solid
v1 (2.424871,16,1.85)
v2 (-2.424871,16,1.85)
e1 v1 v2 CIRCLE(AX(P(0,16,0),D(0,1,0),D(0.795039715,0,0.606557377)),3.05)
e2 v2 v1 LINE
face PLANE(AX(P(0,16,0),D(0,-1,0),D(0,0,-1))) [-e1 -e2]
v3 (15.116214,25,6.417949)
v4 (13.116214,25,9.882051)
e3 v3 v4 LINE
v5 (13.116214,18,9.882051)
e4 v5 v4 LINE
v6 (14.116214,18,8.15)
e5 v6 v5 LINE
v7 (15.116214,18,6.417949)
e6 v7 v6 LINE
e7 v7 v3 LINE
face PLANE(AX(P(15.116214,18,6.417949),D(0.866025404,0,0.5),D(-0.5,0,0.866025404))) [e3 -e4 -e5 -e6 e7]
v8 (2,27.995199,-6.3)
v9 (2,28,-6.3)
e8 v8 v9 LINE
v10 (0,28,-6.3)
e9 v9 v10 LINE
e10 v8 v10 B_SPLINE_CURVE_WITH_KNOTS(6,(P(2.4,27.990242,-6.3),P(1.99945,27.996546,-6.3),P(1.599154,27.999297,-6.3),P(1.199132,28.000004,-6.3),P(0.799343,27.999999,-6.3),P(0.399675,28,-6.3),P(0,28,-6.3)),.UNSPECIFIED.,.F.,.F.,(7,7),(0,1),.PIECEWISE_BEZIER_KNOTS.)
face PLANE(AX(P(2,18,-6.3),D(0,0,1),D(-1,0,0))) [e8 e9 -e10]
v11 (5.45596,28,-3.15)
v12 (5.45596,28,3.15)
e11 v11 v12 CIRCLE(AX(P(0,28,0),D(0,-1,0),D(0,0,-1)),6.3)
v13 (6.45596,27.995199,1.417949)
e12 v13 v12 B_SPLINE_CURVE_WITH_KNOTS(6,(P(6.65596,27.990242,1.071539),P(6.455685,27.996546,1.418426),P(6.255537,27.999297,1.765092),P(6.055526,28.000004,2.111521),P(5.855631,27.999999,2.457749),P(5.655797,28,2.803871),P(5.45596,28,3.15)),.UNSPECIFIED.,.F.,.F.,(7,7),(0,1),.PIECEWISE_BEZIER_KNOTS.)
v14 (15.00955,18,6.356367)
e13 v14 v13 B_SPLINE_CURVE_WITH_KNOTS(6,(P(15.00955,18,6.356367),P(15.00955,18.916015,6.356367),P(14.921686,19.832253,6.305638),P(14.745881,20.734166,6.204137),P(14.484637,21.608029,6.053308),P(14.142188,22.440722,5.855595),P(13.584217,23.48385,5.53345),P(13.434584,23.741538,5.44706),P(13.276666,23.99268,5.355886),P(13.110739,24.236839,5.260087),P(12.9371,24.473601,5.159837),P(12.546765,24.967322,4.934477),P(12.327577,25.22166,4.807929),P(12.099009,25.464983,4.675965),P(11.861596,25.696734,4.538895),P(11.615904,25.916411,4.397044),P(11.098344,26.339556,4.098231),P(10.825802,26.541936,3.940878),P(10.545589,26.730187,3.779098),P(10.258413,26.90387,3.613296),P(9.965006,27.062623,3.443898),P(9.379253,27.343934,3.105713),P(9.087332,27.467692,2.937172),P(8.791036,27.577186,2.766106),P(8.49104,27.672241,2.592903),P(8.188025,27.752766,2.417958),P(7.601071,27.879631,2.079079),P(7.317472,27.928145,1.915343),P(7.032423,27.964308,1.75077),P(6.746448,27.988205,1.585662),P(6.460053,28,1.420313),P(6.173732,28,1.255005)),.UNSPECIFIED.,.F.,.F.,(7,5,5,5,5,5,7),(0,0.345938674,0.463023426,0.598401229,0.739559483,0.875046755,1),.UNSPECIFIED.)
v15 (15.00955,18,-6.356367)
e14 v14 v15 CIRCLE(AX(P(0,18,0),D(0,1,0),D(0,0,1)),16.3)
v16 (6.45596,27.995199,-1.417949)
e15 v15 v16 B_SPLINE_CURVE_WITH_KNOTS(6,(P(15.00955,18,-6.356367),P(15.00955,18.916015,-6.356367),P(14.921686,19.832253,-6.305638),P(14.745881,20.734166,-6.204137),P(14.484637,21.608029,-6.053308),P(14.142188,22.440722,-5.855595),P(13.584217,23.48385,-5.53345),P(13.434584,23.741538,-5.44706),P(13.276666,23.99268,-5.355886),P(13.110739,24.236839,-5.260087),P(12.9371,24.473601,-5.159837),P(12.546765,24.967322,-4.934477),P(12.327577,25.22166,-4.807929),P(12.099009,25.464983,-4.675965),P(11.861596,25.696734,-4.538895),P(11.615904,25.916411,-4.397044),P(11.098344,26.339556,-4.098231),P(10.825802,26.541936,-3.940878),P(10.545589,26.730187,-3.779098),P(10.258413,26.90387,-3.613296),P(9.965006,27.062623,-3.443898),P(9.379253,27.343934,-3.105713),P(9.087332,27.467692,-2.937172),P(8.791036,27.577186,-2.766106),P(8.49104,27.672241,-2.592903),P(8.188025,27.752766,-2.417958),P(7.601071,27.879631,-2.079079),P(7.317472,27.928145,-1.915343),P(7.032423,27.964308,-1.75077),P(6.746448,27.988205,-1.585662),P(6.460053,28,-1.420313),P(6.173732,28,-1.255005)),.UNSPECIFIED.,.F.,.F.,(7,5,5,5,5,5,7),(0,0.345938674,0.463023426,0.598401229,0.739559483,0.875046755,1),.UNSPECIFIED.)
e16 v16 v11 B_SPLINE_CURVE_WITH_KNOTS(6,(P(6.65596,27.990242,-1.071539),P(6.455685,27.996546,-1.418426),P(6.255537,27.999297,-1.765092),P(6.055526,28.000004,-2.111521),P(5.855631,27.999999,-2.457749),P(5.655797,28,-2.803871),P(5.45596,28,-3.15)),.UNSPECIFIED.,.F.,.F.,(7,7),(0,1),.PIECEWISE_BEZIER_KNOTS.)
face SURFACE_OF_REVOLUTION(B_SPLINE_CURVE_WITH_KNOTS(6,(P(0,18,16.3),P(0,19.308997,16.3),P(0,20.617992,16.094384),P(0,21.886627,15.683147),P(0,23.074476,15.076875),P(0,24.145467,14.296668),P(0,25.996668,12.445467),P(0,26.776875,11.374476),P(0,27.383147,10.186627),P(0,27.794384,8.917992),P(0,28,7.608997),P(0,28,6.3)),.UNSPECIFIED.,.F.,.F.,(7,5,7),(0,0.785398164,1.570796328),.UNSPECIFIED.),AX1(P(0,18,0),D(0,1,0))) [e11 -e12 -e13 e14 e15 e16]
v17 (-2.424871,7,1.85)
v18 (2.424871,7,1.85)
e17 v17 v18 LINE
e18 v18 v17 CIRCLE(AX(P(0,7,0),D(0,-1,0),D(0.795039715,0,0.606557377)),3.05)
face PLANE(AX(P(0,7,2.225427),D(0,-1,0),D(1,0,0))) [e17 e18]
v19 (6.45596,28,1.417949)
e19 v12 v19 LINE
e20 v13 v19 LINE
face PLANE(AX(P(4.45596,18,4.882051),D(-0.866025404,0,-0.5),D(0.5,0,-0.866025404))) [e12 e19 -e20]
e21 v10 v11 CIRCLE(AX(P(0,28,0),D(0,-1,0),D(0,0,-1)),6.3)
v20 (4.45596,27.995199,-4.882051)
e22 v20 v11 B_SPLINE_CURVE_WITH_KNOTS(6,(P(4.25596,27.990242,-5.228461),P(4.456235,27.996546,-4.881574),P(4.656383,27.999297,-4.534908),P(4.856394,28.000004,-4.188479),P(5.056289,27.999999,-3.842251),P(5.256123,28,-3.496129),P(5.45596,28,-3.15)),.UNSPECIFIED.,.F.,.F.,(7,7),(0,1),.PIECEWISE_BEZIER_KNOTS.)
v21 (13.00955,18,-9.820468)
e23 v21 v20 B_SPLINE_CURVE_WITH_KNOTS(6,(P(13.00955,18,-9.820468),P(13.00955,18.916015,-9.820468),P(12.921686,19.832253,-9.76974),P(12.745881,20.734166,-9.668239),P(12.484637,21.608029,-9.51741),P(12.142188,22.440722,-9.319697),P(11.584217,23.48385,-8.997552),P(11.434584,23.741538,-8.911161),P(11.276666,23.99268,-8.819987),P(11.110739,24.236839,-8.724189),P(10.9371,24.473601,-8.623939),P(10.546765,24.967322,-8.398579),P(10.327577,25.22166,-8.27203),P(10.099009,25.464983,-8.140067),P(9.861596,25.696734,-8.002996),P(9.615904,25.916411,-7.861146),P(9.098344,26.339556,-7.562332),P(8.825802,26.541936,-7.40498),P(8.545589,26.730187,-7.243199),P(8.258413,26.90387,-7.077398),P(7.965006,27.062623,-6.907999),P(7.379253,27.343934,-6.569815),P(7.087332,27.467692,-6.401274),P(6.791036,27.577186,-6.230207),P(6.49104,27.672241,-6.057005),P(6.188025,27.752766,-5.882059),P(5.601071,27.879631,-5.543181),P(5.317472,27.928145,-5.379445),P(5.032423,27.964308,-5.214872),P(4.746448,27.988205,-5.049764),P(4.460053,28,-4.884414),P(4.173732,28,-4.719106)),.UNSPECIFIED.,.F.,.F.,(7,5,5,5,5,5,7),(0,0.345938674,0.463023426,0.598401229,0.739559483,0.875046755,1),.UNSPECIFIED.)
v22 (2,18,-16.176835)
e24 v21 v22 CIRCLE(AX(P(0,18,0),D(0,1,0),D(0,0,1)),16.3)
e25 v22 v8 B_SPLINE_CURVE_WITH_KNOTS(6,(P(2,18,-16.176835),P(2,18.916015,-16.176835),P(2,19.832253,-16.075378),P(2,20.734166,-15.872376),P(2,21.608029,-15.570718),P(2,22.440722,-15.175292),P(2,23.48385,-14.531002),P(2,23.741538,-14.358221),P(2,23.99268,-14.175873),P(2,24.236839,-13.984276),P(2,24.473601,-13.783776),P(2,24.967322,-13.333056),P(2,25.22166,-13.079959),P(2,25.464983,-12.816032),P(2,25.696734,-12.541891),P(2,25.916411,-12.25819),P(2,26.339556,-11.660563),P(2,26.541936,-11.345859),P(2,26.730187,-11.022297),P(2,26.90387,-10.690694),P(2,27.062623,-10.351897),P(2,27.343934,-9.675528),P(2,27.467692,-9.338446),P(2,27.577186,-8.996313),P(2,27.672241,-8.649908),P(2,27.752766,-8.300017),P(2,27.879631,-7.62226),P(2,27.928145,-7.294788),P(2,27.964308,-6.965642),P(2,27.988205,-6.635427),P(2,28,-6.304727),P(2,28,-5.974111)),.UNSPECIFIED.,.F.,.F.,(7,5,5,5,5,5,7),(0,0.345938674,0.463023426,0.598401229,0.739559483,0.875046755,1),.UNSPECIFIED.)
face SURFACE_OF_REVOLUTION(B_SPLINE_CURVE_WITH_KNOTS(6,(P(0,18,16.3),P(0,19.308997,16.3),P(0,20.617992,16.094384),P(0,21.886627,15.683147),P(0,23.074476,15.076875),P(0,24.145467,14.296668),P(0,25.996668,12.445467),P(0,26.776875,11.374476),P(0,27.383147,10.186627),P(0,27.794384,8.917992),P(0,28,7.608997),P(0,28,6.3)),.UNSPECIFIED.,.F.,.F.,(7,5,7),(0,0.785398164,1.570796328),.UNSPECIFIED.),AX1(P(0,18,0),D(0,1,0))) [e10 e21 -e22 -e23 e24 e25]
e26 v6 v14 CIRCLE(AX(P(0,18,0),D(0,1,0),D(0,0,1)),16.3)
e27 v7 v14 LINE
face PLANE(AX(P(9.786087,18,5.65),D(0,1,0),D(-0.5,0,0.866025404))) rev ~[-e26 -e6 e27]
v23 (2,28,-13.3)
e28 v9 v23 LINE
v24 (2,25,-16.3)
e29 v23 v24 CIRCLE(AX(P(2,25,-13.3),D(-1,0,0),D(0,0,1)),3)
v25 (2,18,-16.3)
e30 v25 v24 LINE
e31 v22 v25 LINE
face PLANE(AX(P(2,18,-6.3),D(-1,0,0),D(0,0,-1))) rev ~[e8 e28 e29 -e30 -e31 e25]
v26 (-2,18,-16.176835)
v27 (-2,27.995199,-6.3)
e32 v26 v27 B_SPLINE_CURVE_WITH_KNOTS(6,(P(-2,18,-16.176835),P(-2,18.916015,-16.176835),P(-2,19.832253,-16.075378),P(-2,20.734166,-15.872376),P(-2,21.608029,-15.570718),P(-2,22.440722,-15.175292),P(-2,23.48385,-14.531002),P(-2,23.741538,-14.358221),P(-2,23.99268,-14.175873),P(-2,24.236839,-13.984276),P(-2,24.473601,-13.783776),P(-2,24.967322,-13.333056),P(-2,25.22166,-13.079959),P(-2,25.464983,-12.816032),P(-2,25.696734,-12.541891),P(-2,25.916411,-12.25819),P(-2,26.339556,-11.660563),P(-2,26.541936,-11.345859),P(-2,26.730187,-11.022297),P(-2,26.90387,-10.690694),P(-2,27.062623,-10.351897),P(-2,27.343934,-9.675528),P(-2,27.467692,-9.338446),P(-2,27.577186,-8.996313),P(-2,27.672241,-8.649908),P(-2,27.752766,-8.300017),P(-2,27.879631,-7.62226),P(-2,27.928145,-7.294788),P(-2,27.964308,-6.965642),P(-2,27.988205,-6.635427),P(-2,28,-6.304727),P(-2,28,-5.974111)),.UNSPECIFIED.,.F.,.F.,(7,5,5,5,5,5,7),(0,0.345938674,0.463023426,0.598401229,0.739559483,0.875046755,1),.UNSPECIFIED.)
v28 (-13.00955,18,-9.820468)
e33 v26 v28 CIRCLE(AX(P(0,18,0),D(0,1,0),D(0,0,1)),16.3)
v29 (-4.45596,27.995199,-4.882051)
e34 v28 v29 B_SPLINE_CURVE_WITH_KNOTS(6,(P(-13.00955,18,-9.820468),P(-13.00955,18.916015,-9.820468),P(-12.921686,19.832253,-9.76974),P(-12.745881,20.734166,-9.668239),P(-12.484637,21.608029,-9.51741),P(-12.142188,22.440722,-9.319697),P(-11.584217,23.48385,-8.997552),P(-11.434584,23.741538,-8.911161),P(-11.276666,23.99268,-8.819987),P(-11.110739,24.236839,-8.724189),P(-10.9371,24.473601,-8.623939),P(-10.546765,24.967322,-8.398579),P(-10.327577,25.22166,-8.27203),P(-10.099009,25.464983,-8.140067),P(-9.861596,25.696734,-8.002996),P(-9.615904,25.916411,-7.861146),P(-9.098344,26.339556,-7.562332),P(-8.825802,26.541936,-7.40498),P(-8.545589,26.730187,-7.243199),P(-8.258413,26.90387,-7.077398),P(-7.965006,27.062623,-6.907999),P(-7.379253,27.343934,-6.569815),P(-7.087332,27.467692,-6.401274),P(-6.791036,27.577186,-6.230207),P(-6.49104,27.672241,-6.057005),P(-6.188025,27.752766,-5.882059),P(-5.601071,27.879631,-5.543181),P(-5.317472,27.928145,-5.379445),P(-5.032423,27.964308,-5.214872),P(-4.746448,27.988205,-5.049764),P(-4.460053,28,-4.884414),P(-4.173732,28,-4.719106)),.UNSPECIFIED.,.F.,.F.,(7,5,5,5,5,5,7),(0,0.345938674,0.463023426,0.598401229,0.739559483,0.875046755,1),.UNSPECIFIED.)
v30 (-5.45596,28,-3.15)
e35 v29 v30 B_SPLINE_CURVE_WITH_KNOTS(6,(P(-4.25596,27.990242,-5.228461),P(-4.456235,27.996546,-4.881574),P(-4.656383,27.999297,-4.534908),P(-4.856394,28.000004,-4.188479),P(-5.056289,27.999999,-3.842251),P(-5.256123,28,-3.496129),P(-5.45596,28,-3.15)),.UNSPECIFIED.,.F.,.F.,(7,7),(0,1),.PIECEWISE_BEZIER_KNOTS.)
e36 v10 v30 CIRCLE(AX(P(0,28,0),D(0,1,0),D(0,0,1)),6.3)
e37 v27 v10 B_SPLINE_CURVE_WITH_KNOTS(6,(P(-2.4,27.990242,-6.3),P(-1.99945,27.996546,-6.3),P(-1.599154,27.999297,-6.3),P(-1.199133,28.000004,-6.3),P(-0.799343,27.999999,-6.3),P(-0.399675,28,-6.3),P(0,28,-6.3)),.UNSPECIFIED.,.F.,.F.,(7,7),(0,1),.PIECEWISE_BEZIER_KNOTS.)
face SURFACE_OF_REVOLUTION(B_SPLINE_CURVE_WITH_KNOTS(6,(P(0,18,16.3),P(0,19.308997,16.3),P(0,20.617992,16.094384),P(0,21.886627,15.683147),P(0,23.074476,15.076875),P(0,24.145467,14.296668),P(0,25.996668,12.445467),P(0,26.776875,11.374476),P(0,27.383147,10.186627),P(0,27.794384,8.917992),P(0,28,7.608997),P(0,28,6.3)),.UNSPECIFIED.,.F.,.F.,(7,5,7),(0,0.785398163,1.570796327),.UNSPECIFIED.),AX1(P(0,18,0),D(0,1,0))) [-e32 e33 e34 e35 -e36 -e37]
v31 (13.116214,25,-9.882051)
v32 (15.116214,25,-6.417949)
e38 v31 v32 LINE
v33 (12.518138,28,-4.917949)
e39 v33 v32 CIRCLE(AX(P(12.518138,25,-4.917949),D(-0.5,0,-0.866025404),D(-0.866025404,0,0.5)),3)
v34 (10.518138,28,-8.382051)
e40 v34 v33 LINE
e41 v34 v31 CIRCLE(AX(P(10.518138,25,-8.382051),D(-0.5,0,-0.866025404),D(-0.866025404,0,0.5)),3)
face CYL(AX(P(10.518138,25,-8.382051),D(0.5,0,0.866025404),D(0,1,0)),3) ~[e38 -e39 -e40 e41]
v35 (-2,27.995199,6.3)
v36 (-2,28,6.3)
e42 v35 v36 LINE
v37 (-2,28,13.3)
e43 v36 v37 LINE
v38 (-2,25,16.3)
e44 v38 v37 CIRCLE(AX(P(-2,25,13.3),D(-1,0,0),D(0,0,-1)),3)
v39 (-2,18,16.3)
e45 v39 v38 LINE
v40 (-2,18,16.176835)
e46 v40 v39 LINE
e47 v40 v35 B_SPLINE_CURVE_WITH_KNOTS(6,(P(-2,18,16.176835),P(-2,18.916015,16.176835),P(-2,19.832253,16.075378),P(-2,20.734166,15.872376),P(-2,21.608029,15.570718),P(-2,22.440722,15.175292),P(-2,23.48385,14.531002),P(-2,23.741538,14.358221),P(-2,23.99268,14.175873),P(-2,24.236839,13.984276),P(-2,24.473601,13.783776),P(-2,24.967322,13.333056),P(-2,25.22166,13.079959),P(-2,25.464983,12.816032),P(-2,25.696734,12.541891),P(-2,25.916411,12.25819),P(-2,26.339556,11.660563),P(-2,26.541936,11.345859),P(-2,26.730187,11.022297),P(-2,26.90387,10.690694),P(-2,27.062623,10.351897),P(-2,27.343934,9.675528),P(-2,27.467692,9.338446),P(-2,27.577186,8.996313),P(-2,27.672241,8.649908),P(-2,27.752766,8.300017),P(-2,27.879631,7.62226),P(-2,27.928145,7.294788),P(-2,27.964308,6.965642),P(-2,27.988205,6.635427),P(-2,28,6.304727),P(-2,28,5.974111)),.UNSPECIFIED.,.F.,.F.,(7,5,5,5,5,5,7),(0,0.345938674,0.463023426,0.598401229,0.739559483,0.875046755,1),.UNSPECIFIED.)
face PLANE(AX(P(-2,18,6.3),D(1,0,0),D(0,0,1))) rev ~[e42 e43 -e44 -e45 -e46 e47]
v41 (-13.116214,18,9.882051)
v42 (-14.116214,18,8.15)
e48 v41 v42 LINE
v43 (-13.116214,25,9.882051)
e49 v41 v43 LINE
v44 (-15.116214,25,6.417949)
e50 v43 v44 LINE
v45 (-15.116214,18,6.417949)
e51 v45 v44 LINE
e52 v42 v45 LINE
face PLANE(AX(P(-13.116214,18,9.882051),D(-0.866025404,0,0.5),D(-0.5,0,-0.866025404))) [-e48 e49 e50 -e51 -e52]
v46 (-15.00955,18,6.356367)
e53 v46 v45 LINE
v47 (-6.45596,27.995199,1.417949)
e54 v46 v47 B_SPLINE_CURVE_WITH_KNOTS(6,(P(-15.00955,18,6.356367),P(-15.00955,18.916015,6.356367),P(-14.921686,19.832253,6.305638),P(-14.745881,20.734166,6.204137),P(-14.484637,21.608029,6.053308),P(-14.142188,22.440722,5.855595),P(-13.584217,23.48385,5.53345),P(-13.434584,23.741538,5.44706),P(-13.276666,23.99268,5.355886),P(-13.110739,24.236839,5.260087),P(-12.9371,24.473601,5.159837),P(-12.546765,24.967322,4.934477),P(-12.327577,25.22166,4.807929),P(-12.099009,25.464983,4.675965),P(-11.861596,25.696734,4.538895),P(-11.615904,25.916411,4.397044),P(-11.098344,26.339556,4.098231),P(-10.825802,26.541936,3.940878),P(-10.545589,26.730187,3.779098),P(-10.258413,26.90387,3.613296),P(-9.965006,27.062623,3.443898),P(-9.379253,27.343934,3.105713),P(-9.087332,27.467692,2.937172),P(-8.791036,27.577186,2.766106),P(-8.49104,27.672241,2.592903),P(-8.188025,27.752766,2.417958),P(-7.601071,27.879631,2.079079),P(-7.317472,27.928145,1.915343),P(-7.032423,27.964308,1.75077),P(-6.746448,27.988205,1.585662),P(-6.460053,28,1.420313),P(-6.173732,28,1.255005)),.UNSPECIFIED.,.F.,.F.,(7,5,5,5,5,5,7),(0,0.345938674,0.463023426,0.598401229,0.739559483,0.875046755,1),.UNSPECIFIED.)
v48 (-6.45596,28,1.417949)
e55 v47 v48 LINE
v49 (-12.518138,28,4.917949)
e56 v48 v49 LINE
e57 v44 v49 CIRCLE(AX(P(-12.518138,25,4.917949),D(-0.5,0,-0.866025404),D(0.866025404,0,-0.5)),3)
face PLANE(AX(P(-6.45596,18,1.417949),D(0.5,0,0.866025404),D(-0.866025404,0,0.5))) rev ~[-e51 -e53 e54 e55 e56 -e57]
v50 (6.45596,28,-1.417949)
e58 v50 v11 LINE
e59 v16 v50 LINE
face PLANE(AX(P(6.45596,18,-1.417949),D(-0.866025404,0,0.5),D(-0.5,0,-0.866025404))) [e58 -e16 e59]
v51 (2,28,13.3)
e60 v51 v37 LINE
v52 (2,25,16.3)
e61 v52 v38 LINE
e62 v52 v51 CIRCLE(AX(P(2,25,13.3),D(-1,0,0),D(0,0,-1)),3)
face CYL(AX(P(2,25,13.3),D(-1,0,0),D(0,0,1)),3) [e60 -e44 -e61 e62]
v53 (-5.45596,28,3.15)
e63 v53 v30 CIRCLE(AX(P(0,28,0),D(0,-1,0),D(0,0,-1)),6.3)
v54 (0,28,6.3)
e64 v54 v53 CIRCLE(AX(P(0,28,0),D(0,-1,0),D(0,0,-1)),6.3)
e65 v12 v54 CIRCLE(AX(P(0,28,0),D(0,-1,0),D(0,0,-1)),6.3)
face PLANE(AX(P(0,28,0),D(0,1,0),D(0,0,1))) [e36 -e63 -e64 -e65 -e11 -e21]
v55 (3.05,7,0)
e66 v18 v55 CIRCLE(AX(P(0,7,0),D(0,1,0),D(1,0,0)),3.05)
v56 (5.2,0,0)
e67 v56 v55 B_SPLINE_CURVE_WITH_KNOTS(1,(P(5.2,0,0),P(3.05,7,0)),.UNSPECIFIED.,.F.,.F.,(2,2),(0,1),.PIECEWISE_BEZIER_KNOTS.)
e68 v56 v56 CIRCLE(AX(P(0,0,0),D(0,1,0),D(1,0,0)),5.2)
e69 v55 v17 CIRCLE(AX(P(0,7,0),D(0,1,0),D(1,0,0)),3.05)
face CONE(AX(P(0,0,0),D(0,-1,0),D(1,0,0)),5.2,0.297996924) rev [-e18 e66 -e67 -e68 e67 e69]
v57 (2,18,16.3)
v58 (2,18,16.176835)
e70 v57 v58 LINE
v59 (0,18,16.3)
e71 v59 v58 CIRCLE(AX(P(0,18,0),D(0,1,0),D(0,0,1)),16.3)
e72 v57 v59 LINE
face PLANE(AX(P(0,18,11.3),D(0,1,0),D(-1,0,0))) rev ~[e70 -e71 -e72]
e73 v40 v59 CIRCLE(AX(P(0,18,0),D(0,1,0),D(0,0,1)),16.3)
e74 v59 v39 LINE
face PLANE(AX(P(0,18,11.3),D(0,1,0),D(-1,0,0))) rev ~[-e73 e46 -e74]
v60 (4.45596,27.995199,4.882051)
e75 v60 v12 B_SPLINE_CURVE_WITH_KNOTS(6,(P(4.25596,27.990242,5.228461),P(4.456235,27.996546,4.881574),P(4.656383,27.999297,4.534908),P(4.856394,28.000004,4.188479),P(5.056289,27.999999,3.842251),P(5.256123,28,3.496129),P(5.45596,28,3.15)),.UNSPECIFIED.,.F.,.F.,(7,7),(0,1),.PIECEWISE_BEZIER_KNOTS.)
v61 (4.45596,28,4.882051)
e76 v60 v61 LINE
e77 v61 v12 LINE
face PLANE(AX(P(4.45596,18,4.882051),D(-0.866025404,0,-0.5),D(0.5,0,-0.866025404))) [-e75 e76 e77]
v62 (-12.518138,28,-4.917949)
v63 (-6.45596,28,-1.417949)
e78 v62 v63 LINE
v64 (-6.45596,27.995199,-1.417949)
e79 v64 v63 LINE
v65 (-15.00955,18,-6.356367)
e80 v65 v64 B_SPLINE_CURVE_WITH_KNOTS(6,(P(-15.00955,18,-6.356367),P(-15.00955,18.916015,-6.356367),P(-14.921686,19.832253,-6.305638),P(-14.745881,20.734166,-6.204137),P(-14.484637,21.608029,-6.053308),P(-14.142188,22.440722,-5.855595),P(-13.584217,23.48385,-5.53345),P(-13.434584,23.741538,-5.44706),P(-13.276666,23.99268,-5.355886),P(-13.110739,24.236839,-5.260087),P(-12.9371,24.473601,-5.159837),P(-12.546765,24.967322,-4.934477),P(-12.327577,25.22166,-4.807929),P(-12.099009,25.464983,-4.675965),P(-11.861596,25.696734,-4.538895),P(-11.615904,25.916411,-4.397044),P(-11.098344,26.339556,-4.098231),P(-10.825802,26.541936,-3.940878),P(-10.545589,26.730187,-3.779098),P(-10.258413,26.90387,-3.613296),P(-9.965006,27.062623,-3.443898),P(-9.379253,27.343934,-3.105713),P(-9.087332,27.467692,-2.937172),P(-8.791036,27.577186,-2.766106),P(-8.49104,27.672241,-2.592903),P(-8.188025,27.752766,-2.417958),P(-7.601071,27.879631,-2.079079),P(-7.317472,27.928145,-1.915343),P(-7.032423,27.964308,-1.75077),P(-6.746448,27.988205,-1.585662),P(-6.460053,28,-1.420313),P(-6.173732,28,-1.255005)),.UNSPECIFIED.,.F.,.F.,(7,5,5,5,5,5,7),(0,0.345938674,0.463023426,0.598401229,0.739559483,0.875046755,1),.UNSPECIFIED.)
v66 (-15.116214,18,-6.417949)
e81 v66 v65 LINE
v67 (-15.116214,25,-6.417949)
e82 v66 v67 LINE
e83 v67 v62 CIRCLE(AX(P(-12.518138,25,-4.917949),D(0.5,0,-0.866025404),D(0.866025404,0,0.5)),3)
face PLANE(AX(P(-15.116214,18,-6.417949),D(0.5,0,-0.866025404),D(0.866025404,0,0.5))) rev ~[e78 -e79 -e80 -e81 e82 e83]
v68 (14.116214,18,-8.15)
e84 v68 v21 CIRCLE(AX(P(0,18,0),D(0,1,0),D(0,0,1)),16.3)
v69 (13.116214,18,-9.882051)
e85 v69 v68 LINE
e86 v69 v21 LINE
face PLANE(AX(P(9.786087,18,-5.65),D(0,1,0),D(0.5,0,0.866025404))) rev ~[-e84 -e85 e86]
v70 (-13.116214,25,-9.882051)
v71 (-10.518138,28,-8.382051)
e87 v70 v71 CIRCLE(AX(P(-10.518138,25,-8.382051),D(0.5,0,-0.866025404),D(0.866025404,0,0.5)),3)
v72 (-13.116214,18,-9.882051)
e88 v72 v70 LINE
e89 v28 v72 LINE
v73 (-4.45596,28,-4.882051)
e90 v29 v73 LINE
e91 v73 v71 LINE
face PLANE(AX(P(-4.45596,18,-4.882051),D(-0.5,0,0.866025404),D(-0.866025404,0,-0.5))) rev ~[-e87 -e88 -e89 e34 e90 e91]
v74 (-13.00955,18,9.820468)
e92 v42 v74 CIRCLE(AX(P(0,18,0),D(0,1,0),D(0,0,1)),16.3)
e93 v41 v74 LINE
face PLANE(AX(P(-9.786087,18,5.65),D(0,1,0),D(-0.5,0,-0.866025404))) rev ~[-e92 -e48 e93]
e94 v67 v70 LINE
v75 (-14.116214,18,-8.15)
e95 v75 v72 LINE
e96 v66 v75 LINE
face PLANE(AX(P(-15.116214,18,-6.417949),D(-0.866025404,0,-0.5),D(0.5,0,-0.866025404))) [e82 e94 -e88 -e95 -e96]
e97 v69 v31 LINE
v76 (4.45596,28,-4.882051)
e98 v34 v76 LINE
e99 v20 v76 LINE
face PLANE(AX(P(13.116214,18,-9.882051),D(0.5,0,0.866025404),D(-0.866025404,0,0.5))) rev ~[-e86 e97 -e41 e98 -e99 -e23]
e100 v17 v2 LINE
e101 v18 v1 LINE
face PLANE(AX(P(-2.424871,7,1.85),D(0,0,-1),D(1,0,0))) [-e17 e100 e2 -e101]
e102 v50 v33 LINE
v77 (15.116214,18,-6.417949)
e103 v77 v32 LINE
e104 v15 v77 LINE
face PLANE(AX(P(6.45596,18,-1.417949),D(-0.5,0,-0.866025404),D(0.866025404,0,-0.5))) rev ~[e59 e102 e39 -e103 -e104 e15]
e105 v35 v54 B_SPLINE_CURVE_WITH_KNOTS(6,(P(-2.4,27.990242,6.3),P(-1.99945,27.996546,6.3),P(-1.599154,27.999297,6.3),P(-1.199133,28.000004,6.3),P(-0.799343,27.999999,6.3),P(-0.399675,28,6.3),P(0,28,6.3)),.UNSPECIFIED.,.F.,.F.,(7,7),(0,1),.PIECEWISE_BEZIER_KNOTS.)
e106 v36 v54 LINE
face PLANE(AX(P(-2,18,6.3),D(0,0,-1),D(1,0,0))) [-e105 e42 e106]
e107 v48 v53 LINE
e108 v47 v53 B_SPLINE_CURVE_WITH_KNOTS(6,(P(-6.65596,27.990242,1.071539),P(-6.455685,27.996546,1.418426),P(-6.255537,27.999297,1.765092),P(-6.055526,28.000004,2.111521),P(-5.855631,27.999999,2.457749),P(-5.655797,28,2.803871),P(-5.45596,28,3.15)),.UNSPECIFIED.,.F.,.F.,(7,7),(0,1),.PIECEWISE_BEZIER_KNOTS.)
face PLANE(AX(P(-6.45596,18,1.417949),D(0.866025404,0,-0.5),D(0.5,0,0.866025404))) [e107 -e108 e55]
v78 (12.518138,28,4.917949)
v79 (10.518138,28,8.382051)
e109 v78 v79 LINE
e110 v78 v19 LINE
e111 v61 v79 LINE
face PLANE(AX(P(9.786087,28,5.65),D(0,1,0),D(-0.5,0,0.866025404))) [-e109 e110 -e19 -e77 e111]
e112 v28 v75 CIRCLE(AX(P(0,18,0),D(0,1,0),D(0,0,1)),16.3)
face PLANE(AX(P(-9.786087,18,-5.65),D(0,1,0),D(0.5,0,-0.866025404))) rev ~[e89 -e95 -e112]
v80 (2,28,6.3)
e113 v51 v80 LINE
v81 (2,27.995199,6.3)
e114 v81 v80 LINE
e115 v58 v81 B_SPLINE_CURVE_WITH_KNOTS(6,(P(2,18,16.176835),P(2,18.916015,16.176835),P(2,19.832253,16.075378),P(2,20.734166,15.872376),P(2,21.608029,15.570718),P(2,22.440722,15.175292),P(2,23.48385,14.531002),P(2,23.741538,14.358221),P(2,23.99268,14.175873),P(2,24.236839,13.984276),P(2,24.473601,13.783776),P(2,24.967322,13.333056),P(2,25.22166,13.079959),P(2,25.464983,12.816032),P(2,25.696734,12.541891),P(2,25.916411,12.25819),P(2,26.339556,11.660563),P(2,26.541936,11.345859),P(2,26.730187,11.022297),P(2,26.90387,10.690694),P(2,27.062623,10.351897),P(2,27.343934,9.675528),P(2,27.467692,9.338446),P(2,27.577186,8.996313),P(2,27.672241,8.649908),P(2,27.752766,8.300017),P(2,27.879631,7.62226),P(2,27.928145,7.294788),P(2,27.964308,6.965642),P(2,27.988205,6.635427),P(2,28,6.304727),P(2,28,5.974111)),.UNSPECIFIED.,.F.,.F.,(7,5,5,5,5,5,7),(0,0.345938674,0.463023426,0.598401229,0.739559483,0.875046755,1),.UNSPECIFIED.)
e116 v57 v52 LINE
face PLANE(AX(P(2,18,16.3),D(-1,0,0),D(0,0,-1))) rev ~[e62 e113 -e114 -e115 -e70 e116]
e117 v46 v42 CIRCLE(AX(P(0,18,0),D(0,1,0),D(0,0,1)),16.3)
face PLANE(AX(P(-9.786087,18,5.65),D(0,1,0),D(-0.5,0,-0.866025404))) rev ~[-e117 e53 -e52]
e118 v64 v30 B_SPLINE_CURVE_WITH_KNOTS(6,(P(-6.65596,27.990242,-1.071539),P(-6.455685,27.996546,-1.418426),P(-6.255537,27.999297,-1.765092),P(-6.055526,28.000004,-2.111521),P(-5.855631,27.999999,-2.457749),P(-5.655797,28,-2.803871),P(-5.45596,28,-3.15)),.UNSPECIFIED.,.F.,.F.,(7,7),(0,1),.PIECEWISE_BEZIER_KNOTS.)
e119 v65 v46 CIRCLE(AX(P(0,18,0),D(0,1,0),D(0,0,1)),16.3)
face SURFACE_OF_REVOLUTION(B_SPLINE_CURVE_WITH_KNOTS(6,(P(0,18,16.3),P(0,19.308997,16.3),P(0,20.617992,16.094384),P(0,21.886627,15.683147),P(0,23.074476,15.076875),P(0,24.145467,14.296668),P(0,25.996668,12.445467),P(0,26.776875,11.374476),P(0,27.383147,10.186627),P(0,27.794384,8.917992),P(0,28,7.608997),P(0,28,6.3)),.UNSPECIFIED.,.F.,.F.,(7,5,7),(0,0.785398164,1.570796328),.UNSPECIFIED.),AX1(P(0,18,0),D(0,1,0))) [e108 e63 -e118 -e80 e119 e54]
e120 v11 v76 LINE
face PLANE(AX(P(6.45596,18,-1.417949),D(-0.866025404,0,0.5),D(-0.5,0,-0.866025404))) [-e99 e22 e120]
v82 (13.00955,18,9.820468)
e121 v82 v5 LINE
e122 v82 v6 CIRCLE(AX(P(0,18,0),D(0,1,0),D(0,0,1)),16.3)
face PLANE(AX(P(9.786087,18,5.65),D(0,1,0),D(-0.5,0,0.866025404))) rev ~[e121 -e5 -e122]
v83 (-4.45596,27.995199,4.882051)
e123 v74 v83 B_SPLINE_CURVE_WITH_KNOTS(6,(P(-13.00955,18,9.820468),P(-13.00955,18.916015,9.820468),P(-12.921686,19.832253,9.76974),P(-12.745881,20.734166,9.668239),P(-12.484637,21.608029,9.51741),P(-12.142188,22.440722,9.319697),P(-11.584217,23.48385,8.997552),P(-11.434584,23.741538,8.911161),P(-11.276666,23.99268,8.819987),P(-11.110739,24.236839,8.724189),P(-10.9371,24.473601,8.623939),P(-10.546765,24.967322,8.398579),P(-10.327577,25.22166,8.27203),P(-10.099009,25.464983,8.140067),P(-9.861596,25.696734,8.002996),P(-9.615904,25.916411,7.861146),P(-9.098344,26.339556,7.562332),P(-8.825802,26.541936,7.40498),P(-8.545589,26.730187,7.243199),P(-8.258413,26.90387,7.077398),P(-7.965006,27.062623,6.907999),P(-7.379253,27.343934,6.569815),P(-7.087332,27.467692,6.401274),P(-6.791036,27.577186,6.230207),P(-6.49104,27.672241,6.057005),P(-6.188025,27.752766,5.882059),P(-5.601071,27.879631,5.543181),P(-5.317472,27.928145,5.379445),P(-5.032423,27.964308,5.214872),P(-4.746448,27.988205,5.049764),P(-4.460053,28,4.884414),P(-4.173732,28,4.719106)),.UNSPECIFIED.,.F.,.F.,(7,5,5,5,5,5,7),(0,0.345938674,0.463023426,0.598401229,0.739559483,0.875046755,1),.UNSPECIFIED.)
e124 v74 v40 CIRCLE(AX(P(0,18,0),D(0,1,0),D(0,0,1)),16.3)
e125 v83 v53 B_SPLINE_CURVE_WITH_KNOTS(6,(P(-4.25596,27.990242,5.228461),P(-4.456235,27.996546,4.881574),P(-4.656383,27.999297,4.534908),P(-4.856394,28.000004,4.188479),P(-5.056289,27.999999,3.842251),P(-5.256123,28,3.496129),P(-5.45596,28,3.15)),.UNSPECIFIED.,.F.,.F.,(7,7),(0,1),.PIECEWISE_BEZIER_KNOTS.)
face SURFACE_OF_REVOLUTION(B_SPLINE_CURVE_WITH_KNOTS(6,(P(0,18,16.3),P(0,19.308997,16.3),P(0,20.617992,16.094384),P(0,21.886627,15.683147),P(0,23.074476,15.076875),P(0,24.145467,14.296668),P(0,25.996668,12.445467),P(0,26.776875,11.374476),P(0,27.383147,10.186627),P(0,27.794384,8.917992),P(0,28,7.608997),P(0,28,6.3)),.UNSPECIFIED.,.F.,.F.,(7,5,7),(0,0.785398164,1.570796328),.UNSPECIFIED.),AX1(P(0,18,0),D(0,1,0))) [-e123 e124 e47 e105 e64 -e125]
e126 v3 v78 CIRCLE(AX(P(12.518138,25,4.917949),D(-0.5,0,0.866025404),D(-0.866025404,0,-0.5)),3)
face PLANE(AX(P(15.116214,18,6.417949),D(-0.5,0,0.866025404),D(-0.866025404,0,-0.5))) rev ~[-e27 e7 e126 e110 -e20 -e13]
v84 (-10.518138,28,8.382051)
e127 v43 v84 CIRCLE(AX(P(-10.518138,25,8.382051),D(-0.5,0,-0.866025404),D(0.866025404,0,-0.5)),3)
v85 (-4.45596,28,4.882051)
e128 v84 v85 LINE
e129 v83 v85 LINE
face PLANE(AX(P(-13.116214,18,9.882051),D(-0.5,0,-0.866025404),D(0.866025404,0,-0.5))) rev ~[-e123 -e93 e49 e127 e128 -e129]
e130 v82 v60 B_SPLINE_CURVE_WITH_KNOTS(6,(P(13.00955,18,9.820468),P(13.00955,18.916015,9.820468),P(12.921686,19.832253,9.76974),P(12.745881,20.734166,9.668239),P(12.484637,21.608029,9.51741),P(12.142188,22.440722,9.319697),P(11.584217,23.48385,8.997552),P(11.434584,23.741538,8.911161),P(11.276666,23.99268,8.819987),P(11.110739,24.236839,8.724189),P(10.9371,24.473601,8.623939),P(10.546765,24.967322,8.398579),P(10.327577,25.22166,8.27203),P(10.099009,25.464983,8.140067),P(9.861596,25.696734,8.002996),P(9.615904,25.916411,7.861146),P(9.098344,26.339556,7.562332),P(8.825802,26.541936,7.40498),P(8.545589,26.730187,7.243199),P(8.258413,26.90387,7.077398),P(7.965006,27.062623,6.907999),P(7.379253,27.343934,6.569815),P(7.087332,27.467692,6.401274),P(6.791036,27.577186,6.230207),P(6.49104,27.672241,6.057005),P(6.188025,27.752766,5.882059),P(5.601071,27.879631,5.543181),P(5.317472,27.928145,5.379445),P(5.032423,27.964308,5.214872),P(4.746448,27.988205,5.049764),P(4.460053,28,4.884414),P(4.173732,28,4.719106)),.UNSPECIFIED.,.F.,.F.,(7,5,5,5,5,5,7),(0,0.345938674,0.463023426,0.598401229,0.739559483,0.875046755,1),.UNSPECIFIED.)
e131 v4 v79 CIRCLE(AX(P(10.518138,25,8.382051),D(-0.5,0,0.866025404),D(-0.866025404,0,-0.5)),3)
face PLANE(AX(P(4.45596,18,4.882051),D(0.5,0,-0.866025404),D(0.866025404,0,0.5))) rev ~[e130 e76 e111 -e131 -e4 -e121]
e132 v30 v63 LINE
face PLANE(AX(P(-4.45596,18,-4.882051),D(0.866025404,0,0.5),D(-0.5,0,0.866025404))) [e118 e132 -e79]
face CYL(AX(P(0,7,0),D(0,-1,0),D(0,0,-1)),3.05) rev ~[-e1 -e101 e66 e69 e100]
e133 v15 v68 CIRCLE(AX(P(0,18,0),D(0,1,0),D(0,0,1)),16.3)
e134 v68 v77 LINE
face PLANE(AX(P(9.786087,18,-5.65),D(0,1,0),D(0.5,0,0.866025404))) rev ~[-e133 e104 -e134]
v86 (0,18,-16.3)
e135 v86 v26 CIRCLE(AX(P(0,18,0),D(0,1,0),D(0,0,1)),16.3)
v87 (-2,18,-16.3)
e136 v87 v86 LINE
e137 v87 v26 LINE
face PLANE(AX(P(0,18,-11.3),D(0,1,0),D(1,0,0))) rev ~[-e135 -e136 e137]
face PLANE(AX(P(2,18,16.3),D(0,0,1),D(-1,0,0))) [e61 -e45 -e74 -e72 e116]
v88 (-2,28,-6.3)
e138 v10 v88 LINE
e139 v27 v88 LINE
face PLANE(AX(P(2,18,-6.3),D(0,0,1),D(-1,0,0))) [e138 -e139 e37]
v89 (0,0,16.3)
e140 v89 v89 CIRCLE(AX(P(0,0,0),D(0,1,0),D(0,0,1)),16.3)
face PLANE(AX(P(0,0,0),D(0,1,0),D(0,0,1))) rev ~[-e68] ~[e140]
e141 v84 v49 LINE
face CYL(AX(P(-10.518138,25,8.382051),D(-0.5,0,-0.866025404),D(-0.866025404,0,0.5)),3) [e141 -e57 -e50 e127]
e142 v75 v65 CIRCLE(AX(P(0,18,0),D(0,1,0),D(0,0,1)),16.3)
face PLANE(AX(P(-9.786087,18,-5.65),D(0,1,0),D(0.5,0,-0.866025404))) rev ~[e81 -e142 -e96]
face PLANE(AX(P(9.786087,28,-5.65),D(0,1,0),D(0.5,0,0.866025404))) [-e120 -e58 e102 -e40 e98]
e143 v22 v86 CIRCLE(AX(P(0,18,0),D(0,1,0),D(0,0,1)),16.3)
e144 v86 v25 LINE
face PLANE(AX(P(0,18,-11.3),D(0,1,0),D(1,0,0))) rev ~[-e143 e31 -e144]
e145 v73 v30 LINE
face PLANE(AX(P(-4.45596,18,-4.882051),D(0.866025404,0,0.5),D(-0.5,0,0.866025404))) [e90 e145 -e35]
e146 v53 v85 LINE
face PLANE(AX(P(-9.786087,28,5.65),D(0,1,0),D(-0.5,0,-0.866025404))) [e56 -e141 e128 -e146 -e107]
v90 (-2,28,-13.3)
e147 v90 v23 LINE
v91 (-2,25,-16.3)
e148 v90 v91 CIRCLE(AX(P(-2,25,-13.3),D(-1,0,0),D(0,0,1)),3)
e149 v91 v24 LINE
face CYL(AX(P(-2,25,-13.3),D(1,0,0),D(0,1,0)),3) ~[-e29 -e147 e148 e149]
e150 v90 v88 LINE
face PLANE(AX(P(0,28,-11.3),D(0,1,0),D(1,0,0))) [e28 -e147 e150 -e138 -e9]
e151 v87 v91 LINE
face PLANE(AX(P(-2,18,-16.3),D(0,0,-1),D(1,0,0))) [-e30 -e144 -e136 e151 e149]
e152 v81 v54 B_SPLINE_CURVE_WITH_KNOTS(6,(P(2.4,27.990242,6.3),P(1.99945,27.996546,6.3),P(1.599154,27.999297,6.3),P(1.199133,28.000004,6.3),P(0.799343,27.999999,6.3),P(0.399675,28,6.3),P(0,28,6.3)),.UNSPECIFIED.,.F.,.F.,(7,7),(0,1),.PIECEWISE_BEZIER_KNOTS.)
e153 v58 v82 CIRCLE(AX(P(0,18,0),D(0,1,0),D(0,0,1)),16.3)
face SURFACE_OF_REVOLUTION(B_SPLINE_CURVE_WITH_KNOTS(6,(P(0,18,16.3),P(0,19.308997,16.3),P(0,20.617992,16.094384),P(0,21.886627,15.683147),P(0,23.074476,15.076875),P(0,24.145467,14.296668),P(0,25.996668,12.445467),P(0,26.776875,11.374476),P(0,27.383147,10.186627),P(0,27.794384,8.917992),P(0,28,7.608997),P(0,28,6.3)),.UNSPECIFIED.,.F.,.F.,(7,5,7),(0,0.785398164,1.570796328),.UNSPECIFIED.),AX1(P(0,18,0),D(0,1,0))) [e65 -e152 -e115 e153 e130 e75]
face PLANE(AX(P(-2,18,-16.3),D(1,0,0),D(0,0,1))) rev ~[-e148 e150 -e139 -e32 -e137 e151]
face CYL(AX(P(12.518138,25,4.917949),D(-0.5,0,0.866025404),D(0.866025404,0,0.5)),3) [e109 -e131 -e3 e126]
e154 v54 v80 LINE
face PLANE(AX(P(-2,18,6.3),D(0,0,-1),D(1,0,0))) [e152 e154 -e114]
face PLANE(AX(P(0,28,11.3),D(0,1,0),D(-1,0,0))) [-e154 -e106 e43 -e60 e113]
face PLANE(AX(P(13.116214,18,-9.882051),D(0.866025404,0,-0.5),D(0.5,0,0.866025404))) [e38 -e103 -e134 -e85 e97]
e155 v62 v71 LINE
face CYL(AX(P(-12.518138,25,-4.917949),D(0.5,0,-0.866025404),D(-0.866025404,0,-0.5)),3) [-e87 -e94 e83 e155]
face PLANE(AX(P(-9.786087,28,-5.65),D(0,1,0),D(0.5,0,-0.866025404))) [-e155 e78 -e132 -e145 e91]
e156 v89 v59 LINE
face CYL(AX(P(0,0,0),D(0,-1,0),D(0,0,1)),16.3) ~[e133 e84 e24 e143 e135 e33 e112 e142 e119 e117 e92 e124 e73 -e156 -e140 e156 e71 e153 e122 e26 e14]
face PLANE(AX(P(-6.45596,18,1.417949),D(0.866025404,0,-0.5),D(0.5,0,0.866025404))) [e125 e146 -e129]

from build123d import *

# Parameters (mm, degrees)
SKETCH1_R           = 16.3
BOSS_EXTRUDE1_DEPTH = 28
FILLET1_R           = 10
SKETCH4_R           = 5.2
SKETCH5_R           = 3.05
SKETCH6_R           = 3.05
CUT_EXTRUDE1_DEPTH  = 9
BOSS_EXTRUDE3_START = 9
BOSS_EXTRUDE3_DEPTH = 9
BOSS_EXTRUDE4_DEPTH = 10
CIRPATTERN1_COUNT   = 6
FILLET2_R           = 3


with BuildPart() as part:
    # Sketch1 → Boss-Extrude1 (new body)
    with BuildSketch(Plane(origin=(0, 0, 0), x_dir=(1, 0, 0), z_dir=(0, 1, 0))):
        with Locations(Location((0, 0, 0), (0, 0, 270))):
            Circle(SKETCH1_R)
    extrude(amount=BOSS_EXTRUDE1_DEPTH)

    # Fillet1
    fillet1_edges = [part.edges().sort_by_distance(p)[0] for p in [
        (0, 28, -16.3),
    ]]
    fillet(fillet1_edges, radius=FILLET1_R)

    # Sketch4 → Cut-Loft1 section 0
    with BuildSketch(Plane.XZ):
        Circle(SKETCH4_R)
    # Sketch5 → Cut-Loft1 section 1
    with BuildSketch(Plane(origin=(0, 7, 0), x_dir=(-1, 0, 0), z_dir=(0, -1, 0))):
        Circle(SKETCH5_R)
    loft(mode=Mode.SUBTRACT)

    # Sketch6 → Cut-Extrude1 (cut)
    with BuildSketch(Plane.XZ.offset(-7)):
        with Locations(Location((0, 0, 0), (0, 0, 270))):
            Circle(SKETCH6_R)
    extrude(amount=-CUT_EXTRUDE1_DEPTH, mode=Mode.SUBTRACT)

    # Sketch7 → Boss-Extrude3 (add)
    with BuildSketch(Plane.XZ.offset(-16).offset(BOSS_EXTRUDE3_START)):
        with BuildLine():
            Line((-2.424871131, 1.85), (2.424871131, 1.85))
            ThreePointArc((2.424871131, 1.85), (0, 3.05), (-2.424871131, 1.85))
        make_face()
    extrude(amount=-BOSS_EXTRUDE3_DEPTH)

    # Sketch8 → Boss-Extrude4 (add)
    with BuildSketch(Plane(origin=(0, 18, 0), x_dir=(-1, 0, 0), z_dir=(0, -1, 0))):
        Polygon((0, 6.3), (-2, 6.3), (-2, 16.3), (0, 16.3), (2, 16.3), (2, 6.3), align=None)
    boss_extrude4 = extrude(amount=-BOSS_EXTRUDE4_DEPTH)

    # CirPattern1: Boss-Extrude4 ×6 about axis
    cirpattern1_axis = Axis((0, 0, 0), (0, 1, 0))
    for i in range(1, CIRPATTERN1_COUNT):
        add(boss_extrude4.rotate(cirpattern1_axis, i * 360 / CIRPATTERN1_COUNT))

    # Fillet2
    fillet2_edges = [part.edges().sort_by_distance(p)[0] for p in [
        (14.116214082, 28, 8.15),
        (14.116214082, 28, -8.15),
        (0, 28, -16.3),
        (-14.116214082, 28, -8.15),
        (-14.116214082, 28, 8.15),
        (0, 28, 16.3),
    ]]
    fillet(fillet2_edges, radius=FILLET2_R)


solid = part.part
